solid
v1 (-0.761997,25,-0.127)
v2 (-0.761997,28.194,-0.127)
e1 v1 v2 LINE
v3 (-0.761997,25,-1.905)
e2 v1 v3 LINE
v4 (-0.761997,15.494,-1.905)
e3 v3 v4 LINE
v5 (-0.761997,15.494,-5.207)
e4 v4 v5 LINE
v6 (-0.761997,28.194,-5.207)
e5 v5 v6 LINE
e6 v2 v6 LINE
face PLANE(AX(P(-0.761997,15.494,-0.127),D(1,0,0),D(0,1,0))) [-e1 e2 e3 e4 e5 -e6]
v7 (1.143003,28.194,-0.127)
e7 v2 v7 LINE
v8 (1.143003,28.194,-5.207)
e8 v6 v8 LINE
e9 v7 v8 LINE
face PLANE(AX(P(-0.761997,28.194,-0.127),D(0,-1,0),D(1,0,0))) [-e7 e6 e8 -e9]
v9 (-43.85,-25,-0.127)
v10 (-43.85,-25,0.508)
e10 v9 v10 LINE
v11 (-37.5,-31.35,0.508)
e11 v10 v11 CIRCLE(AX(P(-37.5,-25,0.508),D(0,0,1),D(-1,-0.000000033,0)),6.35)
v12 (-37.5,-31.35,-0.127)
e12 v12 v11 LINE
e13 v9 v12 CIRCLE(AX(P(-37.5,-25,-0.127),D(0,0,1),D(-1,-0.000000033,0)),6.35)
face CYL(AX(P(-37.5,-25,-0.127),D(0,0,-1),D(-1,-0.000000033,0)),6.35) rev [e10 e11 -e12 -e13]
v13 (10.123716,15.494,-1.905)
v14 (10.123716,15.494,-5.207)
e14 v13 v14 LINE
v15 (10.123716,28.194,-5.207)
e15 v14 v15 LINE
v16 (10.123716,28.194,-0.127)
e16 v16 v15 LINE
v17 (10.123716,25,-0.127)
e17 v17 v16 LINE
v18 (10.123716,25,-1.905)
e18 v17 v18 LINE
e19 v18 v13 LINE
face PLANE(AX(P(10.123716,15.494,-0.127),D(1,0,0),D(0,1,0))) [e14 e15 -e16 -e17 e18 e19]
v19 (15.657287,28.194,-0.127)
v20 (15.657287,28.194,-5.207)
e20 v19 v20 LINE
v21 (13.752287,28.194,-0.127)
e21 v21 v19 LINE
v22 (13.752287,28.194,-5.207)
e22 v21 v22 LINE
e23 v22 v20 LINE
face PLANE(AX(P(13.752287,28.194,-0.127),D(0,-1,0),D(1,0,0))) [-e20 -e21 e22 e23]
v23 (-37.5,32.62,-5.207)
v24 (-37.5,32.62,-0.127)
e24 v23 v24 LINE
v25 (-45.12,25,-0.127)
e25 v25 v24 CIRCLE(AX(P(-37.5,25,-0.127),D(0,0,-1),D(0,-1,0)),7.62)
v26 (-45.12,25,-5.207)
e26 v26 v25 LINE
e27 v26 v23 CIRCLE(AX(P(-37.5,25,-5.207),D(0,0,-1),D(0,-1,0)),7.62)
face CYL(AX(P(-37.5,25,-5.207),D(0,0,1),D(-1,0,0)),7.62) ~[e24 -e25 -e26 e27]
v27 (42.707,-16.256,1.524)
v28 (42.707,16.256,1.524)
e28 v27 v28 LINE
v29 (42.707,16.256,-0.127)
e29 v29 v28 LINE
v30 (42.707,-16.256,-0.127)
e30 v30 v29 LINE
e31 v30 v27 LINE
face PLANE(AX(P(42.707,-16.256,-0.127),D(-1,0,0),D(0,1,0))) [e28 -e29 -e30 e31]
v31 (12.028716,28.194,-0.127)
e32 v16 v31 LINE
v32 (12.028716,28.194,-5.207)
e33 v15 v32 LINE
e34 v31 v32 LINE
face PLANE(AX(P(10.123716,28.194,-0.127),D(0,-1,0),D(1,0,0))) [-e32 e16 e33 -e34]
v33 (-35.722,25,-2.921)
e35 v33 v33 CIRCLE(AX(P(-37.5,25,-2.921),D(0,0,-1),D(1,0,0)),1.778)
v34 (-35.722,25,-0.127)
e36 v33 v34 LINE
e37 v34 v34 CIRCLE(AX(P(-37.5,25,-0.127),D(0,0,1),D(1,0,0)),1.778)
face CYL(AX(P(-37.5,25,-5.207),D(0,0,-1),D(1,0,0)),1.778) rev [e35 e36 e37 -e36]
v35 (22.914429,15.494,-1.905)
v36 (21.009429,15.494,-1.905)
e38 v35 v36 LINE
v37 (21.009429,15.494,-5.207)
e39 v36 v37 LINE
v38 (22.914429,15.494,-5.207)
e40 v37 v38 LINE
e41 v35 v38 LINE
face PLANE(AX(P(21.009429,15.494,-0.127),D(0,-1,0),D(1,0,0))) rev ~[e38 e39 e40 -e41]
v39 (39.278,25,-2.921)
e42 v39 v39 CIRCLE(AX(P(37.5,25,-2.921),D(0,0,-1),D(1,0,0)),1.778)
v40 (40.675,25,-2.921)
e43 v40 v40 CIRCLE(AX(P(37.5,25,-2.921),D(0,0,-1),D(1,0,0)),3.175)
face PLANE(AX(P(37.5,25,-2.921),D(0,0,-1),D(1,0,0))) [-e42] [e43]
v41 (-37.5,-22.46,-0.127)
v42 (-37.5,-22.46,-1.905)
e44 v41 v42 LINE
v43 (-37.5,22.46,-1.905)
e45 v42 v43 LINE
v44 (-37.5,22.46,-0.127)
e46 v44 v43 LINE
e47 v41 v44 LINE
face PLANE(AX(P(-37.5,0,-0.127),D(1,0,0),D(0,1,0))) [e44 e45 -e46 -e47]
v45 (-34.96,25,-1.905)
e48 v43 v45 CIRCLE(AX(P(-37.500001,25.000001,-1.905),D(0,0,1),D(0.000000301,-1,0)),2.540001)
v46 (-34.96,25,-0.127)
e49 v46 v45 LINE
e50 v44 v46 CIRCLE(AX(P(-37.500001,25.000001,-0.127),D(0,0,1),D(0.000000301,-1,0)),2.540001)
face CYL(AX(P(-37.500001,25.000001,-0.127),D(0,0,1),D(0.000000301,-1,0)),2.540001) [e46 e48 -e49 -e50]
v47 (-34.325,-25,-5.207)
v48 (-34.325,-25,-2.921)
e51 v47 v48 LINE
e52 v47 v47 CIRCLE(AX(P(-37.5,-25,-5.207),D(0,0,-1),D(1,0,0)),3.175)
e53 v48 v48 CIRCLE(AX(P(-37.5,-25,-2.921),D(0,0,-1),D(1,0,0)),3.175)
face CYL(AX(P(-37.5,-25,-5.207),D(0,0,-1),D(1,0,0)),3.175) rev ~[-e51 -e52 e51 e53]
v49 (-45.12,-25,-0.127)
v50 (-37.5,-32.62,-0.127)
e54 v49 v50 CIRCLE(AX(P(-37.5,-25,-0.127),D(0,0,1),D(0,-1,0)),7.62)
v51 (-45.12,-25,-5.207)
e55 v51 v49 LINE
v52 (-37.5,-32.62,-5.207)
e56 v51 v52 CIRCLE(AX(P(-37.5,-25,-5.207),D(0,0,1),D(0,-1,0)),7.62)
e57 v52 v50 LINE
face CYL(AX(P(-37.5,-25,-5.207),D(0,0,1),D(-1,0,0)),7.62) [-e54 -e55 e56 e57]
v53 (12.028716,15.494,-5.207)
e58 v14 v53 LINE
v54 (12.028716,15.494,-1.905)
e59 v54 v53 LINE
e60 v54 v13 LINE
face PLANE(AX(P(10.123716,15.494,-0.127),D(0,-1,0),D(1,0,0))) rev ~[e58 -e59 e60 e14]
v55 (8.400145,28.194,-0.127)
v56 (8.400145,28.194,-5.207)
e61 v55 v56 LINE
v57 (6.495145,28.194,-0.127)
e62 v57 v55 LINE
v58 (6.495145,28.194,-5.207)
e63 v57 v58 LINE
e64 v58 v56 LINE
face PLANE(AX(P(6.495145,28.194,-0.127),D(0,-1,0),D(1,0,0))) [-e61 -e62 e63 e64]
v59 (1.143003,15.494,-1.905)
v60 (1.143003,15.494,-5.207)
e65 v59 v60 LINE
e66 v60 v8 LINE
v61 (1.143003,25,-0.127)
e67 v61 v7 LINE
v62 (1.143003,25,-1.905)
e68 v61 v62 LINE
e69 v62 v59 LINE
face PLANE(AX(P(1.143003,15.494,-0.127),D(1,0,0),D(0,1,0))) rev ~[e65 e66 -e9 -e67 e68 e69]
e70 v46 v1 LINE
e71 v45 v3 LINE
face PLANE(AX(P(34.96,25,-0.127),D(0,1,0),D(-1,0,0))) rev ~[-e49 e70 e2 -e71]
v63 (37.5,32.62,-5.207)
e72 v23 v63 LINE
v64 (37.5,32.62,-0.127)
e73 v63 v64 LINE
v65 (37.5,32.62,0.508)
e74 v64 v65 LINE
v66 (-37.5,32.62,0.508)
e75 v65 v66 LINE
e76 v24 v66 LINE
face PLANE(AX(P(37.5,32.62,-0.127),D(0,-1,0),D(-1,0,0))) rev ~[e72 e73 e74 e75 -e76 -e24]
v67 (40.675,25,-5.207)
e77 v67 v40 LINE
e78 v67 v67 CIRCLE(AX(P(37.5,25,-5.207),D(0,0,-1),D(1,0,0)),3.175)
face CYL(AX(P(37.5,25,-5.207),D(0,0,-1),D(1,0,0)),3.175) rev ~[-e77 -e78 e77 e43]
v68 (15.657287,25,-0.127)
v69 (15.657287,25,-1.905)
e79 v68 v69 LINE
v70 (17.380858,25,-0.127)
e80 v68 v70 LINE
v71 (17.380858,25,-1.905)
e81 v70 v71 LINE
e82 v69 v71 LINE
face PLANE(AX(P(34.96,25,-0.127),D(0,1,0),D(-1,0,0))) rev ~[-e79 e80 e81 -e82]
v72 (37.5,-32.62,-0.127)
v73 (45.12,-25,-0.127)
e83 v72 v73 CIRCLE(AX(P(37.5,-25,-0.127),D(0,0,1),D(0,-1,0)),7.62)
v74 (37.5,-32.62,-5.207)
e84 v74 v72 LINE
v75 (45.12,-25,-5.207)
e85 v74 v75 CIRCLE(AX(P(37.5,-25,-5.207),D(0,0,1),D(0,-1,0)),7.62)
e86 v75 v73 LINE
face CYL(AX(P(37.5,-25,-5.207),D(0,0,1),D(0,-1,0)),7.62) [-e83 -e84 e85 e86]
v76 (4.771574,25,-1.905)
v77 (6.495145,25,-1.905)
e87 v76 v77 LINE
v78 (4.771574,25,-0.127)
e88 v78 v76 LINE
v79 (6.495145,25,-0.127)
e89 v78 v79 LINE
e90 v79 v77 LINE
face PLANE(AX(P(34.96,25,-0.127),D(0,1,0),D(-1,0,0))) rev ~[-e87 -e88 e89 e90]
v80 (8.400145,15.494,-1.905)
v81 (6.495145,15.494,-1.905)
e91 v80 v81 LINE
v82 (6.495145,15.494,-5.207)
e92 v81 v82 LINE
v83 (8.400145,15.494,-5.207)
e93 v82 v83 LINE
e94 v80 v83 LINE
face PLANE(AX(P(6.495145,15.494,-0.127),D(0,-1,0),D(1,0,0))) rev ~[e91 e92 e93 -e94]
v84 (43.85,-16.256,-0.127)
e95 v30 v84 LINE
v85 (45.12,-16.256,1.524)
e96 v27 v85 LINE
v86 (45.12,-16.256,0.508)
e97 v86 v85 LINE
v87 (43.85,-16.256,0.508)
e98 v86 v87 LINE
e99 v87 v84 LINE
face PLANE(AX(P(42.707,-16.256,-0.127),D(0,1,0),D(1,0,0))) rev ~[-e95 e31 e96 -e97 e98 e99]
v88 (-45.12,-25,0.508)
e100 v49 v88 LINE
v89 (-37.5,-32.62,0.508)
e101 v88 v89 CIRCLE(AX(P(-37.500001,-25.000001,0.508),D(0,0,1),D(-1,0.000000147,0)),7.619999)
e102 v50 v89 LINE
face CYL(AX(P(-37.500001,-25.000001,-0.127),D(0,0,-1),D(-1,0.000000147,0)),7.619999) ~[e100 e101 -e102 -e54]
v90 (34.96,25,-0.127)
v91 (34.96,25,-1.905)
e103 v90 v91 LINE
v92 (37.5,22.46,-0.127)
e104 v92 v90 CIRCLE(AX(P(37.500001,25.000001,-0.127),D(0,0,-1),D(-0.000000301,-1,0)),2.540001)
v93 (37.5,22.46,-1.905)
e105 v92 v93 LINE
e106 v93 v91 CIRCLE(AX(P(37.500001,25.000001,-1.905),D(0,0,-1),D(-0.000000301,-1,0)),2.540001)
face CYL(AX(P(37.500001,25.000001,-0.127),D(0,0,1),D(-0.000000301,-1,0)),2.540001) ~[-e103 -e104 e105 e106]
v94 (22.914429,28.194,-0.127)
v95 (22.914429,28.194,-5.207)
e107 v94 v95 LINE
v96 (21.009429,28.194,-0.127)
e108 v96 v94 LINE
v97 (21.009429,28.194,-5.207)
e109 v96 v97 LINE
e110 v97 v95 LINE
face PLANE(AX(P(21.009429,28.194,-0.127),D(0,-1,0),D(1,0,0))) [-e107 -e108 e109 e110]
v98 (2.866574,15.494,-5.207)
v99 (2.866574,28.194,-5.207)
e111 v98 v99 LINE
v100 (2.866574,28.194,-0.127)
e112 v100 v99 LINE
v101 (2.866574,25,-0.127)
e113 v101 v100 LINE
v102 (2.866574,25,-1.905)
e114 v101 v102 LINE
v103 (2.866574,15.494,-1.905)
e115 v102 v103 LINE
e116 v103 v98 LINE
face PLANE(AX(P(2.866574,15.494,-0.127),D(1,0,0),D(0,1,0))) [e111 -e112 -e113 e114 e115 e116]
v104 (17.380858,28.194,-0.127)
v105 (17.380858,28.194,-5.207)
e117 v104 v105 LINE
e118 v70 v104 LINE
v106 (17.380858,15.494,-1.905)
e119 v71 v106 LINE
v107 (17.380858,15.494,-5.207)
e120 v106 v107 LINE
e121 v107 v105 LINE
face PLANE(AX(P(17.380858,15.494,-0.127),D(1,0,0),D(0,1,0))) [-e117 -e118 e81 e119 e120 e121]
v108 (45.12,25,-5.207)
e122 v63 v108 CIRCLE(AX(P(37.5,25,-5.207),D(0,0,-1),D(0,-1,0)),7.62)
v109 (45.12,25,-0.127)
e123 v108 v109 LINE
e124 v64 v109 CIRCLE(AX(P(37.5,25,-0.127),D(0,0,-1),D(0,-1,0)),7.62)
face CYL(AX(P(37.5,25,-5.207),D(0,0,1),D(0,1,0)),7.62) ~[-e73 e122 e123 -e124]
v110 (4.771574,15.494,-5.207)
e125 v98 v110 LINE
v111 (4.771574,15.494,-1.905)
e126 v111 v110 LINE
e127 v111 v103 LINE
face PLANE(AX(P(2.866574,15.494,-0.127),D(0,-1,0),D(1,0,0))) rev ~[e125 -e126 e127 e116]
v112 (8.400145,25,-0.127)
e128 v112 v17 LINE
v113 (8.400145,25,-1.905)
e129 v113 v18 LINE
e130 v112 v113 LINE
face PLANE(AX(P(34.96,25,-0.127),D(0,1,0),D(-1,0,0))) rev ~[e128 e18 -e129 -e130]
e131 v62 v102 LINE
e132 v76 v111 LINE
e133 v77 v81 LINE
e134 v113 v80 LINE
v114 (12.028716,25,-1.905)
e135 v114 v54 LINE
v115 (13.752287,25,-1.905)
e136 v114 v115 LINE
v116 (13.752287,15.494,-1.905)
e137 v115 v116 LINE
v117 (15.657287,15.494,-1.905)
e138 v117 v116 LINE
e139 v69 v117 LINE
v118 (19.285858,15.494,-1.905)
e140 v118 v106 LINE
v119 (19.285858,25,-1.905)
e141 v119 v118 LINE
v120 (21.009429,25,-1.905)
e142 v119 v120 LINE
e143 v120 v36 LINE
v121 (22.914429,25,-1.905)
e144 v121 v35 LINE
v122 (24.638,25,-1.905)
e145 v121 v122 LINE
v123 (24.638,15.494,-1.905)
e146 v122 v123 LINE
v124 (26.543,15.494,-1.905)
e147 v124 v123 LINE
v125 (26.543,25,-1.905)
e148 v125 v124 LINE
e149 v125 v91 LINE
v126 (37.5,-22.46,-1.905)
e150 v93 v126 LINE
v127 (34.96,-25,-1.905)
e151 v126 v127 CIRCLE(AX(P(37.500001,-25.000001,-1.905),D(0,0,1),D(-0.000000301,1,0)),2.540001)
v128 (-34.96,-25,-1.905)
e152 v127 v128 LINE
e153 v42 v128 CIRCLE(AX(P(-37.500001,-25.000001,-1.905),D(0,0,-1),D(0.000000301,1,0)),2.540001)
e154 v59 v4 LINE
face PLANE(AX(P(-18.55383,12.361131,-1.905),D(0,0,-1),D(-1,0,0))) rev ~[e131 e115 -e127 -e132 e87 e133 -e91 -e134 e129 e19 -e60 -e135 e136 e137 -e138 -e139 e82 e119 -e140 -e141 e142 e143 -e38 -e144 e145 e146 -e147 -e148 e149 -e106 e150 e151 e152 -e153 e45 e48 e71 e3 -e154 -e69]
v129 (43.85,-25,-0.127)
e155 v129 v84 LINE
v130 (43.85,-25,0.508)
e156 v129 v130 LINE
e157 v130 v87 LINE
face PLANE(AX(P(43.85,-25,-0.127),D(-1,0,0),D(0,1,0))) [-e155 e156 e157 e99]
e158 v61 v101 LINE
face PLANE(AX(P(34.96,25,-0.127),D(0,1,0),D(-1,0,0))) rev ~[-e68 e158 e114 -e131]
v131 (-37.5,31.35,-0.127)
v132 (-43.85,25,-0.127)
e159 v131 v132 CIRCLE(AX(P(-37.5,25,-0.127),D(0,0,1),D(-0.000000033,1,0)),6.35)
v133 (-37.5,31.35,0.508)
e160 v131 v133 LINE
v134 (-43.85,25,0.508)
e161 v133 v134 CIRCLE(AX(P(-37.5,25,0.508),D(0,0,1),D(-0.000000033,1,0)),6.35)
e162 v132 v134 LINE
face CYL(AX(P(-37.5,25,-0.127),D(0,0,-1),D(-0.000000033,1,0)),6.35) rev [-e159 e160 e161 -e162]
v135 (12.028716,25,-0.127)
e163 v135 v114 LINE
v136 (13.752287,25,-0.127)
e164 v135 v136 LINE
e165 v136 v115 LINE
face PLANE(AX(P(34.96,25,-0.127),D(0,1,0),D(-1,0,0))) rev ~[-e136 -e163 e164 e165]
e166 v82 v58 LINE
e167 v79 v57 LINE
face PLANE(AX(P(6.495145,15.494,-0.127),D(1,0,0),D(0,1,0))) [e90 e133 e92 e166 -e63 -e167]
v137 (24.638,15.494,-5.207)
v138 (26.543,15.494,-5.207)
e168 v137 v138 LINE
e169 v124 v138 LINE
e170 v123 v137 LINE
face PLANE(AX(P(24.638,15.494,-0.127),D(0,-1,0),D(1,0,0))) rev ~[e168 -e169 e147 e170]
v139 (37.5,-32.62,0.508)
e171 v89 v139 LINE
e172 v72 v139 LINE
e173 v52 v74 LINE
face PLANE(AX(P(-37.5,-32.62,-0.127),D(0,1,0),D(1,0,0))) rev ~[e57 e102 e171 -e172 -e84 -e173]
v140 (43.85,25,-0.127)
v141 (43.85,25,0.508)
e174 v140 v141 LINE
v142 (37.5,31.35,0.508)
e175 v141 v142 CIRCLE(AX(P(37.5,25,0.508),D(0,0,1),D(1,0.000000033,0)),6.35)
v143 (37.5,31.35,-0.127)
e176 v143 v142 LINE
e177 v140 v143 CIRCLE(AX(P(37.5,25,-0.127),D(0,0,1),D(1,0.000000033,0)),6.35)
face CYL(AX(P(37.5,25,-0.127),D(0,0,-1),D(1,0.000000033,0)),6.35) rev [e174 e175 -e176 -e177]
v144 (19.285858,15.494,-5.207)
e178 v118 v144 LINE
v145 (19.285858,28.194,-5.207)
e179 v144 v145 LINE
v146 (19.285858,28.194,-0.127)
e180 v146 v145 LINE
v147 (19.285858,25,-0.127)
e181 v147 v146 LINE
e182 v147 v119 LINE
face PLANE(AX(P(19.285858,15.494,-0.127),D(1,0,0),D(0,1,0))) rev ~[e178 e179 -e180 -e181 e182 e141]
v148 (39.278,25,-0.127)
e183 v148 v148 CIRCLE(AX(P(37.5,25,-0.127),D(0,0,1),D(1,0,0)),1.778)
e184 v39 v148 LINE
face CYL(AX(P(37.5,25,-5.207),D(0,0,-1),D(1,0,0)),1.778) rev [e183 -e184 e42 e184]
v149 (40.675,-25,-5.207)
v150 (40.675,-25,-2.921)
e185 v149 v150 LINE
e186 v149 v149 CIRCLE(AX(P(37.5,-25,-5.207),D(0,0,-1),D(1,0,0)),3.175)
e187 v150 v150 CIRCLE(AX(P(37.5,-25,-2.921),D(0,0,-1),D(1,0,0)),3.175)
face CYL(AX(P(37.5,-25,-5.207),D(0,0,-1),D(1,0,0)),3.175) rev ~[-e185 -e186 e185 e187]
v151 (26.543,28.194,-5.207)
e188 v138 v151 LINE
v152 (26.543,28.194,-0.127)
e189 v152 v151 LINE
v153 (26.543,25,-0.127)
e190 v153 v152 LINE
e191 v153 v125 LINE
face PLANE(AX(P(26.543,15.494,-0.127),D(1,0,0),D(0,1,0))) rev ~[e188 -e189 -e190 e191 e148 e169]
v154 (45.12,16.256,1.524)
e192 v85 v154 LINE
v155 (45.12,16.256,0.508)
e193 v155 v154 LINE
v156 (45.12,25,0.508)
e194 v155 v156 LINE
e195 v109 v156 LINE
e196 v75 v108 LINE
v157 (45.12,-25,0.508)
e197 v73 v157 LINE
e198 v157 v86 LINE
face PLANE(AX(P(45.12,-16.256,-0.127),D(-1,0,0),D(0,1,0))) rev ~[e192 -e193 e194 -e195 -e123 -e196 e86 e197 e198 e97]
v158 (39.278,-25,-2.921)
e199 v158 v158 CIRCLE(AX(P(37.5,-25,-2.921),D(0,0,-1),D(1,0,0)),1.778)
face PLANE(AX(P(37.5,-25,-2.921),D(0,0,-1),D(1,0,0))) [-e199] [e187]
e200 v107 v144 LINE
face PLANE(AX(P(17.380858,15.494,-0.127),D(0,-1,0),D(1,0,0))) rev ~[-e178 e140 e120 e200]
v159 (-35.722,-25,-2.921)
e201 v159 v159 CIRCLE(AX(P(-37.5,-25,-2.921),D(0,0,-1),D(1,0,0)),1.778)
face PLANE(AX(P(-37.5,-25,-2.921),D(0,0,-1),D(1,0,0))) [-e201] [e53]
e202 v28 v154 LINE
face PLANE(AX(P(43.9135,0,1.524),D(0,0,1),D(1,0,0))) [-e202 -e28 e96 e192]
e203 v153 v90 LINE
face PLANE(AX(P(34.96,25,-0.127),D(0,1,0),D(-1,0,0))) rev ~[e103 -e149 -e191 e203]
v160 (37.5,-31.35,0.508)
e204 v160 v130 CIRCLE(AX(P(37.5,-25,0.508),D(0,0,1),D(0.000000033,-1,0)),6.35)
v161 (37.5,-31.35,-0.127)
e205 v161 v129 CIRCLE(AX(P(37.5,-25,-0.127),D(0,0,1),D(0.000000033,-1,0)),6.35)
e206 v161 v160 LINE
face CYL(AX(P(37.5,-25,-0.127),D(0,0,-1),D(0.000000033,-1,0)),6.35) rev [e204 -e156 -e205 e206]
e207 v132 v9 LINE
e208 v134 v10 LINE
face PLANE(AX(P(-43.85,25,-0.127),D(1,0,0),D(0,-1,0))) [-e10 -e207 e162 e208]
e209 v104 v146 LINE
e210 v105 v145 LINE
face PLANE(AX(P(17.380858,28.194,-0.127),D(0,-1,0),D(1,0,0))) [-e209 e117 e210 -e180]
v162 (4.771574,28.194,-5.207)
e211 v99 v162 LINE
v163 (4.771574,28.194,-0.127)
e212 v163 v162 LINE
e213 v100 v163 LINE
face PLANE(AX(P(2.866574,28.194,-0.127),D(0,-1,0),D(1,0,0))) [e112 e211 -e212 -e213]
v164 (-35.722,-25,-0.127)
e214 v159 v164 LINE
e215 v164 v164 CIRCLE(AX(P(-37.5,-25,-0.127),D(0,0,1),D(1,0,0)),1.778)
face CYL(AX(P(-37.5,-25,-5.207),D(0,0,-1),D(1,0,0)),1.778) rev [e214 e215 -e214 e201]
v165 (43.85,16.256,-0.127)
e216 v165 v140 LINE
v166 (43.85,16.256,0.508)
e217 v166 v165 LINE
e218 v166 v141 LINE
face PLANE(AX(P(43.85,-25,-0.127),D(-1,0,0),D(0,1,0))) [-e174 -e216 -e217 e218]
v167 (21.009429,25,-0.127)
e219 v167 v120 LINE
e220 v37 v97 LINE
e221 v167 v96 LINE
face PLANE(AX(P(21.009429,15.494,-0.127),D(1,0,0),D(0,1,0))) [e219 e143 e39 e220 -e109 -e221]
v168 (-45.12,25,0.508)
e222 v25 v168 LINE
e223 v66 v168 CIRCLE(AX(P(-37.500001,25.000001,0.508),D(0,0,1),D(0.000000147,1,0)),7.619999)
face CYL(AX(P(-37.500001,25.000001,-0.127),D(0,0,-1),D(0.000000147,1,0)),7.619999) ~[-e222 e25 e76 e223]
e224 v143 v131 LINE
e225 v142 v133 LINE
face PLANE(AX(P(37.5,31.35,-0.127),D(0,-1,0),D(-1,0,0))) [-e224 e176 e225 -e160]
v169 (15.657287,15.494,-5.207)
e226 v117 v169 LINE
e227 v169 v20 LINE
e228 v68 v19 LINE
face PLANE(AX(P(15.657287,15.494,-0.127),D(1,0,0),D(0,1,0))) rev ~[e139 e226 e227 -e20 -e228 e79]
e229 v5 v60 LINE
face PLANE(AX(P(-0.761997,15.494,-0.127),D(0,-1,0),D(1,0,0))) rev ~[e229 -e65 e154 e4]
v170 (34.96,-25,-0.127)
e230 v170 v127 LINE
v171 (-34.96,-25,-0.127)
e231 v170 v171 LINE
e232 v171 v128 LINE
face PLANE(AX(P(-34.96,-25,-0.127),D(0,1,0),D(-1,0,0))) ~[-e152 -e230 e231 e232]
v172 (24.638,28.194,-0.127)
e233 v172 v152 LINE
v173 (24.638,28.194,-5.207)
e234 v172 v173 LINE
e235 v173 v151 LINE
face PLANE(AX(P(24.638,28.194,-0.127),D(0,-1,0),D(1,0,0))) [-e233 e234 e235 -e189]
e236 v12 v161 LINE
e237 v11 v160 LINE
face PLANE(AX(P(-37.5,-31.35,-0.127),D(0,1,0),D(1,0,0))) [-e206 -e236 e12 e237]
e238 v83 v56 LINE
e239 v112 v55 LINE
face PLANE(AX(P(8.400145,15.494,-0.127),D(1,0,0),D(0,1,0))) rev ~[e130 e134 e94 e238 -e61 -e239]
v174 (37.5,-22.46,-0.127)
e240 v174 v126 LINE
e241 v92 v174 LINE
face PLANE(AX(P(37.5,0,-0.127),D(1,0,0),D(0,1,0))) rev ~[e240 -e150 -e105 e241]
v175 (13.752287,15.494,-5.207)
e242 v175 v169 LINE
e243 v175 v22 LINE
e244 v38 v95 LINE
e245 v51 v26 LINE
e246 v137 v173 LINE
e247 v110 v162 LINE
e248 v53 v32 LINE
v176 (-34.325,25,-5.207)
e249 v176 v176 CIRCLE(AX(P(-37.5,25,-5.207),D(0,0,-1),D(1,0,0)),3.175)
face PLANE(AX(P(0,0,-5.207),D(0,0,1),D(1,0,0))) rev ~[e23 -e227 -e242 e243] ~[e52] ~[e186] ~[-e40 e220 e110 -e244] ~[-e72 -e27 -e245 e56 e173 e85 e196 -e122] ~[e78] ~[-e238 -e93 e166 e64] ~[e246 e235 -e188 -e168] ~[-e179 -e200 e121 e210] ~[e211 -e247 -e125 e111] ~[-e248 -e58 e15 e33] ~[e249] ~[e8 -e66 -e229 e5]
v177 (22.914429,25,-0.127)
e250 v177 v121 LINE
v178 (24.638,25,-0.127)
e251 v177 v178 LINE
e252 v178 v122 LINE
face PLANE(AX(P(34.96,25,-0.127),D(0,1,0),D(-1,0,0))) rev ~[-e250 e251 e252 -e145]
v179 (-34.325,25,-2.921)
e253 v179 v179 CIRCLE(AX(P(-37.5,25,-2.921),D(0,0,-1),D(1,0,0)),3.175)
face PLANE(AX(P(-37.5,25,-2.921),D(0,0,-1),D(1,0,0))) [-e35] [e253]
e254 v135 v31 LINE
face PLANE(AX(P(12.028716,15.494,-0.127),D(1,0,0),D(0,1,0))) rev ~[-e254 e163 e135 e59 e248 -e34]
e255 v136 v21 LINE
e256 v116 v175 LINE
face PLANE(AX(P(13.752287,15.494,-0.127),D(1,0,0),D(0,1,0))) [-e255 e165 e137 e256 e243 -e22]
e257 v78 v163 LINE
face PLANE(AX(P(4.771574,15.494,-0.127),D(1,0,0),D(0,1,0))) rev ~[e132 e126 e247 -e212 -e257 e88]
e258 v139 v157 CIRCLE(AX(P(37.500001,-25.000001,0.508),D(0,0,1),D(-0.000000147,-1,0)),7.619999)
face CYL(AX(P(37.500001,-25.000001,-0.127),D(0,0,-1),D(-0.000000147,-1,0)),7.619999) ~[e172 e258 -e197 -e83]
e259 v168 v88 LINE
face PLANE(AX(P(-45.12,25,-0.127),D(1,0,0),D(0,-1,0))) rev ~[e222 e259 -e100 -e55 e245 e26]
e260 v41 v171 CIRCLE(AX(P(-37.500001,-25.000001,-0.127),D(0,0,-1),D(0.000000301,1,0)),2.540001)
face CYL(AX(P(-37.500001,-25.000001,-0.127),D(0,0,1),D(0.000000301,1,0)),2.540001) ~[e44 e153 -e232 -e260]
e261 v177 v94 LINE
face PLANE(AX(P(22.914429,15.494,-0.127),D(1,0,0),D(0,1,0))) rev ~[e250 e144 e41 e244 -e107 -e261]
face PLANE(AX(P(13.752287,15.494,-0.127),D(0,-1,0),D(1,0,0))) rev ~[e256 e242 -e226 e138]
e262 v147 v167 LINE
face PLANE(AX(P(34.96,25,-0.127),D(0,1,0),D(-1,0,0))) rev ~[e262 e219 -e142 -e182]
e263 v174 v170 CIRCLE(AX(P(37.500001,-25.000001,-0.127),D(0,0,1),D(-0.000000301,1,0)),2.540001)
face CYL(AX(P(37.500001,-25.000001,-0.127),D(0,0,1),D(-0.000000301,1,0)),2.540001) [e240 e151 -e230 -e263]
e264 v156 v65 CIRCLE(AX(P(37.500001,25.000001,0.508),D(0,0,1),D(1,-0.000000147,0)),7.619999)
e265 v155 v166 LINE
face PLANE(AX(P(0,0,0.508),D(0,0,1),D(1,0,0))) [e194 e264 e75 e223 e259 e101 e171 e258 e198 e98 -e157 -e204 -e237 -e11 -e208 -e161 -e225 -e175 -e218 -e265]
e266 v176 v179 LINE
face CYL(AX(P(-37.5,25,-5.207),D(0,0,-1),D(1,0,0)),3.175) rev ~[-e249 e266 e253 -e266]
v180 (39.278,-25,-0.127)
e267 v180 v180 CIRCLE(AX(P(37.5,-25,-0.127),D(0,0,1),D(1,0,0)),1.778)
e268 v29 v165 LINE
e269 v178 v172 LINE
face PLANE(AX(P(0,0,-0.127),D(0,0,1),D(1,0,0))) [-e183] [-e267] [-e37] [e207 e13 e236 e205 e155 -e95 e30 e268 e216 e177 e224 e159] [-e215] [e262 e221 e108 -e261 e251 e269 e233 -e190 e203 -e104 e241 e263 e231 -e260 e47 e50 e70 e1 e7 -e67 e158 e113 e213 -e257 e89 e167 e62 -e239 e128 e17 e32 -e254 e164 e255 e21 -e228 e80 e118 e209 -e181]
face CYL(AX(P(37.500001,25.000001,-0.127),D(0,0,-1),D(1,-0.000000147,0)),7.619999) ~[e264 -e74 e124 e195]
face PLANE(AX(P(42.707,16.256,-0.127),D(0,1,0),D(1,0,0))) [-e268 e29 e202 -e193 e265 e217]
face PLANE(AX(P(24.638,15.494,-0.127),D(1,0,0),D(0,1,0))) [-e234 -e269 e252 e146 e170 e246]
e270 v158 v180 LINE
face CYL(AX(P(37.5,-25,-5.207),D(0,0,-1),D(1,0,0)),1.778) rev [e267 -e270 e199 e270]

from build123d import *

# Parameters (mm, degrees)
SKETCH_W                = 90.24
SKETCH_H                = 65.24
SKETCH_R                = 1.778
PAD_DEPTH               = 5.08
POCKET_DEPTH            = 1.778
POCKET_MIRRORED_2_DEPTH = 1.778
SKETCH002_R             = 3.175
POCKET001_DEPTH         = 2.286
SKETCH003_W             = 1.905
SKETCH003_H             = 12.7
POCKET002_DEPTH         = 5.081
LINEARPATTERN_COUNT     = 8
LINEARPATTERN_PITCH     = 3.628571
FILLET_R                = 7.62
PAD001_DEPTH            = 0.635
SKETCH020_W             = 2.413
SKETCH020_H             = 32.512
PAD005_DEPTH            = 1.651


with BuildPart() as part:
    # Sketch → Pad (new body)
    with BuildSketch(Plane.XY):
        Rectangle(SKETCH_W, SKETCH_H)
        with Locations((37.5, 25)):
            Circle(SKETCH_R, mode=Mode.SUBTRACT)
        with Locations((-37.5, 25)):
            Circle(SKETCH_R, mode=Mode.SUBTRACT)
        with Locations((-37.5, -25)):
            Circle(SKETCH_R, mode=Mode.SUBTRACT)
        with Locations((37.5, -25)):
            Circle(SKETCH_R, mode=Mode.SUBTRACT)
    extrude(amount=PAD_DEPTH)

    # Sketch001 (on Face10 of Pad) → Pocket (cut)
    with BuildSketch(Plane.XY.offset(5.08)):
        with BuildLine():
            ThreePointArc((-37.5, 22.46), (-35.703949, 23.203949), (-34.96, 25))
            Line((-34.96, 25), (0, 25))
            Line((0, 0), (0, 25))
            Line((0, 0), (-37.5, 0))
            Line((-37.5, 0), (-37.5, 22.46))
        make_face()
    pocket = extrude(amount=-POCKET_DEPTH, mode=Mode.SUBTRACT)

    # Sketch001 Mirrored 2 → Pocket Mirrored 2 (cut)
    with BuildSketch(Plane(origin=(0, 0, 5.08), x_dir=(-1, 0, 0), z_dir=(0, 0, -1))):
        with BuildLine():
            ThreePointArc((-37.5, 22.46), (-35.703949, 23.203949), (-34.96, 25))
            Line((-34.96, 25), (0, 25))
            Line((0, 0), (0, 25))
            Line((0, 0), (-37.5, 0))
            Line((-37.5, 0), (-37.5, 22.46))
        make_face()
    pocket_mirrored_2 = extrude(amount=POCKET_MIRRORED_2_DEPTH, mode=Mode.SUBTRACT)

    # Mirrored001: Pocket, Pocket Mirrored 2 across Sketch001 H_Axis
    add(pocket.mirror(Plane(origin=(0, 0, 5.08), x_dir=(0, 0, 1), z_dir=(0, 1, 0))), mode=Mode.SUBTRACT)
    add(pocket_mirrored_2.mirror(Plane(origin=(0, 0, 5.08), x_dir=(0, 0, 1), z_dir=(0, 1, 0))), mode=Mode.SUBTRACT)

    # Sketch002 (on Face4 of MultiTransform) → Pocket001 (cut)
    with BuildSketch(Plane(origin=(0, 0, 0), x_dir=(1, 0, 0), z_dir=(0, 0, -1))):
        with Locations((37.5, 25)):
            Circle(SKETCH002_R)
        with Locations((-37.5, 25)):
            Circle(SKETCH002_R)
        with Locations((-37.5, -25)):
            Circle(SKETCH002_R)
        with Locations((37.5, -25)):
            Circle(SKETCH002_R)
    extrude(amount=-POCKET001_DEPTH, mode=Mode.SUBTRACT)

    # Sketch003 (on Face5 of Pocket001) → Pocket002 (cut, through all)
    with BuildSketch(Plane.XY.offset(5.08)):
        with Locations((25.5905, 21.844)):
            Rectangle(SKETCH003_W, SKETCH003_H)
    pocket002 = extrude(amount=-POCKET002_DEPTH, mode=Mode.SUBTRACT)

    # LinearPattern: Pocket002 ×8
    with Locations(*[(-i * LINEARPATTERN_PITCH, 0, 0) for i in range(1, LINEARPATTERN_COUNT)]):
        add(pocket002, mode=Mode.SUBTRACT)

    # Fillet
    fillet_edges = [part.edges().sort_by_distance(p)[0] for p in [
        (45.12, -32.62, 2.54),
        (-45.12, -32.62, 2.54),
        (-45.12, 32.62, 2.54),
        (45.12, 32.62, 2.54),
    ]]
    fillet(fillet_edges, radius=FILLET_R)

    # Sketch004 (on Face5 of Fillet) → Pad001 (join)
    with BuildSketch(Plane.XY.offset(5.08)):
        with BuildLine():
            Line((-37.5, -32.62), (37.5, -32.62))
            ThreePointArc((37.5, -32.62), (42.888154, -30.388154), (45.12, -25))
            Line((45.12, -25), (45.12, 25))
            ThreePointArc((45.12, 25), (42.888154, 30.388154), (37.5, 32.62))
            Line((37.5, 32.62), (-37.5, 32.62))
            ThreePointArc((-37.5, 32.62), (-42.888154, 30.388154), (-45.12, 25))
            Line((-45.12, 25), (-45.12, -25))
            ThreePointArc((-45.12, -25), (-42.888154, -30.388154), (-37.5, -32.62))
        make_face()
        with BuildLine():
            Line((-37.5, -31.35), (37.5, -31.35))
            ThreePointArc((37.5, -31.35), (41.990128, -29.490128), (43.85, -25))
            Line((43.85, -25), (43.85, 25))
            ThreePointArc((43.85, 25), (41.990128, 29.490128), (37.5, 31.35))
            Line((37.5, 31.35), (-37.5, 31.35))
            ThreePointArc((-37.5, 31.35), (-41.990128, 29.490128), (-43.85, 25))
            Line((-43.85, 25), (-43.85, -25))
            ThreePointArc((-43.85, -25), (-41.990128, -29.490128), (-37.5, -31.35))
        make_face(mode=Mode.SUBTRACT)
    extrude(amount=PAD001_DEPTH)

    # Sketch020 (on Face58 of Pad001) → Pad005 (join)
    with BuildSketch(Plane.XY.offset(5.08)):
        with Locations((43.9135, 0)):
            Rectangle(SKETCH020_W, SKETCH020_H)
    extrude(amount=PAD005_DEPTH)


with BuildPart() as part_1:
    # Body placement: moved
    add(part.part.moved(Location((0, 0, -5.207))))


solid = part_1.part
